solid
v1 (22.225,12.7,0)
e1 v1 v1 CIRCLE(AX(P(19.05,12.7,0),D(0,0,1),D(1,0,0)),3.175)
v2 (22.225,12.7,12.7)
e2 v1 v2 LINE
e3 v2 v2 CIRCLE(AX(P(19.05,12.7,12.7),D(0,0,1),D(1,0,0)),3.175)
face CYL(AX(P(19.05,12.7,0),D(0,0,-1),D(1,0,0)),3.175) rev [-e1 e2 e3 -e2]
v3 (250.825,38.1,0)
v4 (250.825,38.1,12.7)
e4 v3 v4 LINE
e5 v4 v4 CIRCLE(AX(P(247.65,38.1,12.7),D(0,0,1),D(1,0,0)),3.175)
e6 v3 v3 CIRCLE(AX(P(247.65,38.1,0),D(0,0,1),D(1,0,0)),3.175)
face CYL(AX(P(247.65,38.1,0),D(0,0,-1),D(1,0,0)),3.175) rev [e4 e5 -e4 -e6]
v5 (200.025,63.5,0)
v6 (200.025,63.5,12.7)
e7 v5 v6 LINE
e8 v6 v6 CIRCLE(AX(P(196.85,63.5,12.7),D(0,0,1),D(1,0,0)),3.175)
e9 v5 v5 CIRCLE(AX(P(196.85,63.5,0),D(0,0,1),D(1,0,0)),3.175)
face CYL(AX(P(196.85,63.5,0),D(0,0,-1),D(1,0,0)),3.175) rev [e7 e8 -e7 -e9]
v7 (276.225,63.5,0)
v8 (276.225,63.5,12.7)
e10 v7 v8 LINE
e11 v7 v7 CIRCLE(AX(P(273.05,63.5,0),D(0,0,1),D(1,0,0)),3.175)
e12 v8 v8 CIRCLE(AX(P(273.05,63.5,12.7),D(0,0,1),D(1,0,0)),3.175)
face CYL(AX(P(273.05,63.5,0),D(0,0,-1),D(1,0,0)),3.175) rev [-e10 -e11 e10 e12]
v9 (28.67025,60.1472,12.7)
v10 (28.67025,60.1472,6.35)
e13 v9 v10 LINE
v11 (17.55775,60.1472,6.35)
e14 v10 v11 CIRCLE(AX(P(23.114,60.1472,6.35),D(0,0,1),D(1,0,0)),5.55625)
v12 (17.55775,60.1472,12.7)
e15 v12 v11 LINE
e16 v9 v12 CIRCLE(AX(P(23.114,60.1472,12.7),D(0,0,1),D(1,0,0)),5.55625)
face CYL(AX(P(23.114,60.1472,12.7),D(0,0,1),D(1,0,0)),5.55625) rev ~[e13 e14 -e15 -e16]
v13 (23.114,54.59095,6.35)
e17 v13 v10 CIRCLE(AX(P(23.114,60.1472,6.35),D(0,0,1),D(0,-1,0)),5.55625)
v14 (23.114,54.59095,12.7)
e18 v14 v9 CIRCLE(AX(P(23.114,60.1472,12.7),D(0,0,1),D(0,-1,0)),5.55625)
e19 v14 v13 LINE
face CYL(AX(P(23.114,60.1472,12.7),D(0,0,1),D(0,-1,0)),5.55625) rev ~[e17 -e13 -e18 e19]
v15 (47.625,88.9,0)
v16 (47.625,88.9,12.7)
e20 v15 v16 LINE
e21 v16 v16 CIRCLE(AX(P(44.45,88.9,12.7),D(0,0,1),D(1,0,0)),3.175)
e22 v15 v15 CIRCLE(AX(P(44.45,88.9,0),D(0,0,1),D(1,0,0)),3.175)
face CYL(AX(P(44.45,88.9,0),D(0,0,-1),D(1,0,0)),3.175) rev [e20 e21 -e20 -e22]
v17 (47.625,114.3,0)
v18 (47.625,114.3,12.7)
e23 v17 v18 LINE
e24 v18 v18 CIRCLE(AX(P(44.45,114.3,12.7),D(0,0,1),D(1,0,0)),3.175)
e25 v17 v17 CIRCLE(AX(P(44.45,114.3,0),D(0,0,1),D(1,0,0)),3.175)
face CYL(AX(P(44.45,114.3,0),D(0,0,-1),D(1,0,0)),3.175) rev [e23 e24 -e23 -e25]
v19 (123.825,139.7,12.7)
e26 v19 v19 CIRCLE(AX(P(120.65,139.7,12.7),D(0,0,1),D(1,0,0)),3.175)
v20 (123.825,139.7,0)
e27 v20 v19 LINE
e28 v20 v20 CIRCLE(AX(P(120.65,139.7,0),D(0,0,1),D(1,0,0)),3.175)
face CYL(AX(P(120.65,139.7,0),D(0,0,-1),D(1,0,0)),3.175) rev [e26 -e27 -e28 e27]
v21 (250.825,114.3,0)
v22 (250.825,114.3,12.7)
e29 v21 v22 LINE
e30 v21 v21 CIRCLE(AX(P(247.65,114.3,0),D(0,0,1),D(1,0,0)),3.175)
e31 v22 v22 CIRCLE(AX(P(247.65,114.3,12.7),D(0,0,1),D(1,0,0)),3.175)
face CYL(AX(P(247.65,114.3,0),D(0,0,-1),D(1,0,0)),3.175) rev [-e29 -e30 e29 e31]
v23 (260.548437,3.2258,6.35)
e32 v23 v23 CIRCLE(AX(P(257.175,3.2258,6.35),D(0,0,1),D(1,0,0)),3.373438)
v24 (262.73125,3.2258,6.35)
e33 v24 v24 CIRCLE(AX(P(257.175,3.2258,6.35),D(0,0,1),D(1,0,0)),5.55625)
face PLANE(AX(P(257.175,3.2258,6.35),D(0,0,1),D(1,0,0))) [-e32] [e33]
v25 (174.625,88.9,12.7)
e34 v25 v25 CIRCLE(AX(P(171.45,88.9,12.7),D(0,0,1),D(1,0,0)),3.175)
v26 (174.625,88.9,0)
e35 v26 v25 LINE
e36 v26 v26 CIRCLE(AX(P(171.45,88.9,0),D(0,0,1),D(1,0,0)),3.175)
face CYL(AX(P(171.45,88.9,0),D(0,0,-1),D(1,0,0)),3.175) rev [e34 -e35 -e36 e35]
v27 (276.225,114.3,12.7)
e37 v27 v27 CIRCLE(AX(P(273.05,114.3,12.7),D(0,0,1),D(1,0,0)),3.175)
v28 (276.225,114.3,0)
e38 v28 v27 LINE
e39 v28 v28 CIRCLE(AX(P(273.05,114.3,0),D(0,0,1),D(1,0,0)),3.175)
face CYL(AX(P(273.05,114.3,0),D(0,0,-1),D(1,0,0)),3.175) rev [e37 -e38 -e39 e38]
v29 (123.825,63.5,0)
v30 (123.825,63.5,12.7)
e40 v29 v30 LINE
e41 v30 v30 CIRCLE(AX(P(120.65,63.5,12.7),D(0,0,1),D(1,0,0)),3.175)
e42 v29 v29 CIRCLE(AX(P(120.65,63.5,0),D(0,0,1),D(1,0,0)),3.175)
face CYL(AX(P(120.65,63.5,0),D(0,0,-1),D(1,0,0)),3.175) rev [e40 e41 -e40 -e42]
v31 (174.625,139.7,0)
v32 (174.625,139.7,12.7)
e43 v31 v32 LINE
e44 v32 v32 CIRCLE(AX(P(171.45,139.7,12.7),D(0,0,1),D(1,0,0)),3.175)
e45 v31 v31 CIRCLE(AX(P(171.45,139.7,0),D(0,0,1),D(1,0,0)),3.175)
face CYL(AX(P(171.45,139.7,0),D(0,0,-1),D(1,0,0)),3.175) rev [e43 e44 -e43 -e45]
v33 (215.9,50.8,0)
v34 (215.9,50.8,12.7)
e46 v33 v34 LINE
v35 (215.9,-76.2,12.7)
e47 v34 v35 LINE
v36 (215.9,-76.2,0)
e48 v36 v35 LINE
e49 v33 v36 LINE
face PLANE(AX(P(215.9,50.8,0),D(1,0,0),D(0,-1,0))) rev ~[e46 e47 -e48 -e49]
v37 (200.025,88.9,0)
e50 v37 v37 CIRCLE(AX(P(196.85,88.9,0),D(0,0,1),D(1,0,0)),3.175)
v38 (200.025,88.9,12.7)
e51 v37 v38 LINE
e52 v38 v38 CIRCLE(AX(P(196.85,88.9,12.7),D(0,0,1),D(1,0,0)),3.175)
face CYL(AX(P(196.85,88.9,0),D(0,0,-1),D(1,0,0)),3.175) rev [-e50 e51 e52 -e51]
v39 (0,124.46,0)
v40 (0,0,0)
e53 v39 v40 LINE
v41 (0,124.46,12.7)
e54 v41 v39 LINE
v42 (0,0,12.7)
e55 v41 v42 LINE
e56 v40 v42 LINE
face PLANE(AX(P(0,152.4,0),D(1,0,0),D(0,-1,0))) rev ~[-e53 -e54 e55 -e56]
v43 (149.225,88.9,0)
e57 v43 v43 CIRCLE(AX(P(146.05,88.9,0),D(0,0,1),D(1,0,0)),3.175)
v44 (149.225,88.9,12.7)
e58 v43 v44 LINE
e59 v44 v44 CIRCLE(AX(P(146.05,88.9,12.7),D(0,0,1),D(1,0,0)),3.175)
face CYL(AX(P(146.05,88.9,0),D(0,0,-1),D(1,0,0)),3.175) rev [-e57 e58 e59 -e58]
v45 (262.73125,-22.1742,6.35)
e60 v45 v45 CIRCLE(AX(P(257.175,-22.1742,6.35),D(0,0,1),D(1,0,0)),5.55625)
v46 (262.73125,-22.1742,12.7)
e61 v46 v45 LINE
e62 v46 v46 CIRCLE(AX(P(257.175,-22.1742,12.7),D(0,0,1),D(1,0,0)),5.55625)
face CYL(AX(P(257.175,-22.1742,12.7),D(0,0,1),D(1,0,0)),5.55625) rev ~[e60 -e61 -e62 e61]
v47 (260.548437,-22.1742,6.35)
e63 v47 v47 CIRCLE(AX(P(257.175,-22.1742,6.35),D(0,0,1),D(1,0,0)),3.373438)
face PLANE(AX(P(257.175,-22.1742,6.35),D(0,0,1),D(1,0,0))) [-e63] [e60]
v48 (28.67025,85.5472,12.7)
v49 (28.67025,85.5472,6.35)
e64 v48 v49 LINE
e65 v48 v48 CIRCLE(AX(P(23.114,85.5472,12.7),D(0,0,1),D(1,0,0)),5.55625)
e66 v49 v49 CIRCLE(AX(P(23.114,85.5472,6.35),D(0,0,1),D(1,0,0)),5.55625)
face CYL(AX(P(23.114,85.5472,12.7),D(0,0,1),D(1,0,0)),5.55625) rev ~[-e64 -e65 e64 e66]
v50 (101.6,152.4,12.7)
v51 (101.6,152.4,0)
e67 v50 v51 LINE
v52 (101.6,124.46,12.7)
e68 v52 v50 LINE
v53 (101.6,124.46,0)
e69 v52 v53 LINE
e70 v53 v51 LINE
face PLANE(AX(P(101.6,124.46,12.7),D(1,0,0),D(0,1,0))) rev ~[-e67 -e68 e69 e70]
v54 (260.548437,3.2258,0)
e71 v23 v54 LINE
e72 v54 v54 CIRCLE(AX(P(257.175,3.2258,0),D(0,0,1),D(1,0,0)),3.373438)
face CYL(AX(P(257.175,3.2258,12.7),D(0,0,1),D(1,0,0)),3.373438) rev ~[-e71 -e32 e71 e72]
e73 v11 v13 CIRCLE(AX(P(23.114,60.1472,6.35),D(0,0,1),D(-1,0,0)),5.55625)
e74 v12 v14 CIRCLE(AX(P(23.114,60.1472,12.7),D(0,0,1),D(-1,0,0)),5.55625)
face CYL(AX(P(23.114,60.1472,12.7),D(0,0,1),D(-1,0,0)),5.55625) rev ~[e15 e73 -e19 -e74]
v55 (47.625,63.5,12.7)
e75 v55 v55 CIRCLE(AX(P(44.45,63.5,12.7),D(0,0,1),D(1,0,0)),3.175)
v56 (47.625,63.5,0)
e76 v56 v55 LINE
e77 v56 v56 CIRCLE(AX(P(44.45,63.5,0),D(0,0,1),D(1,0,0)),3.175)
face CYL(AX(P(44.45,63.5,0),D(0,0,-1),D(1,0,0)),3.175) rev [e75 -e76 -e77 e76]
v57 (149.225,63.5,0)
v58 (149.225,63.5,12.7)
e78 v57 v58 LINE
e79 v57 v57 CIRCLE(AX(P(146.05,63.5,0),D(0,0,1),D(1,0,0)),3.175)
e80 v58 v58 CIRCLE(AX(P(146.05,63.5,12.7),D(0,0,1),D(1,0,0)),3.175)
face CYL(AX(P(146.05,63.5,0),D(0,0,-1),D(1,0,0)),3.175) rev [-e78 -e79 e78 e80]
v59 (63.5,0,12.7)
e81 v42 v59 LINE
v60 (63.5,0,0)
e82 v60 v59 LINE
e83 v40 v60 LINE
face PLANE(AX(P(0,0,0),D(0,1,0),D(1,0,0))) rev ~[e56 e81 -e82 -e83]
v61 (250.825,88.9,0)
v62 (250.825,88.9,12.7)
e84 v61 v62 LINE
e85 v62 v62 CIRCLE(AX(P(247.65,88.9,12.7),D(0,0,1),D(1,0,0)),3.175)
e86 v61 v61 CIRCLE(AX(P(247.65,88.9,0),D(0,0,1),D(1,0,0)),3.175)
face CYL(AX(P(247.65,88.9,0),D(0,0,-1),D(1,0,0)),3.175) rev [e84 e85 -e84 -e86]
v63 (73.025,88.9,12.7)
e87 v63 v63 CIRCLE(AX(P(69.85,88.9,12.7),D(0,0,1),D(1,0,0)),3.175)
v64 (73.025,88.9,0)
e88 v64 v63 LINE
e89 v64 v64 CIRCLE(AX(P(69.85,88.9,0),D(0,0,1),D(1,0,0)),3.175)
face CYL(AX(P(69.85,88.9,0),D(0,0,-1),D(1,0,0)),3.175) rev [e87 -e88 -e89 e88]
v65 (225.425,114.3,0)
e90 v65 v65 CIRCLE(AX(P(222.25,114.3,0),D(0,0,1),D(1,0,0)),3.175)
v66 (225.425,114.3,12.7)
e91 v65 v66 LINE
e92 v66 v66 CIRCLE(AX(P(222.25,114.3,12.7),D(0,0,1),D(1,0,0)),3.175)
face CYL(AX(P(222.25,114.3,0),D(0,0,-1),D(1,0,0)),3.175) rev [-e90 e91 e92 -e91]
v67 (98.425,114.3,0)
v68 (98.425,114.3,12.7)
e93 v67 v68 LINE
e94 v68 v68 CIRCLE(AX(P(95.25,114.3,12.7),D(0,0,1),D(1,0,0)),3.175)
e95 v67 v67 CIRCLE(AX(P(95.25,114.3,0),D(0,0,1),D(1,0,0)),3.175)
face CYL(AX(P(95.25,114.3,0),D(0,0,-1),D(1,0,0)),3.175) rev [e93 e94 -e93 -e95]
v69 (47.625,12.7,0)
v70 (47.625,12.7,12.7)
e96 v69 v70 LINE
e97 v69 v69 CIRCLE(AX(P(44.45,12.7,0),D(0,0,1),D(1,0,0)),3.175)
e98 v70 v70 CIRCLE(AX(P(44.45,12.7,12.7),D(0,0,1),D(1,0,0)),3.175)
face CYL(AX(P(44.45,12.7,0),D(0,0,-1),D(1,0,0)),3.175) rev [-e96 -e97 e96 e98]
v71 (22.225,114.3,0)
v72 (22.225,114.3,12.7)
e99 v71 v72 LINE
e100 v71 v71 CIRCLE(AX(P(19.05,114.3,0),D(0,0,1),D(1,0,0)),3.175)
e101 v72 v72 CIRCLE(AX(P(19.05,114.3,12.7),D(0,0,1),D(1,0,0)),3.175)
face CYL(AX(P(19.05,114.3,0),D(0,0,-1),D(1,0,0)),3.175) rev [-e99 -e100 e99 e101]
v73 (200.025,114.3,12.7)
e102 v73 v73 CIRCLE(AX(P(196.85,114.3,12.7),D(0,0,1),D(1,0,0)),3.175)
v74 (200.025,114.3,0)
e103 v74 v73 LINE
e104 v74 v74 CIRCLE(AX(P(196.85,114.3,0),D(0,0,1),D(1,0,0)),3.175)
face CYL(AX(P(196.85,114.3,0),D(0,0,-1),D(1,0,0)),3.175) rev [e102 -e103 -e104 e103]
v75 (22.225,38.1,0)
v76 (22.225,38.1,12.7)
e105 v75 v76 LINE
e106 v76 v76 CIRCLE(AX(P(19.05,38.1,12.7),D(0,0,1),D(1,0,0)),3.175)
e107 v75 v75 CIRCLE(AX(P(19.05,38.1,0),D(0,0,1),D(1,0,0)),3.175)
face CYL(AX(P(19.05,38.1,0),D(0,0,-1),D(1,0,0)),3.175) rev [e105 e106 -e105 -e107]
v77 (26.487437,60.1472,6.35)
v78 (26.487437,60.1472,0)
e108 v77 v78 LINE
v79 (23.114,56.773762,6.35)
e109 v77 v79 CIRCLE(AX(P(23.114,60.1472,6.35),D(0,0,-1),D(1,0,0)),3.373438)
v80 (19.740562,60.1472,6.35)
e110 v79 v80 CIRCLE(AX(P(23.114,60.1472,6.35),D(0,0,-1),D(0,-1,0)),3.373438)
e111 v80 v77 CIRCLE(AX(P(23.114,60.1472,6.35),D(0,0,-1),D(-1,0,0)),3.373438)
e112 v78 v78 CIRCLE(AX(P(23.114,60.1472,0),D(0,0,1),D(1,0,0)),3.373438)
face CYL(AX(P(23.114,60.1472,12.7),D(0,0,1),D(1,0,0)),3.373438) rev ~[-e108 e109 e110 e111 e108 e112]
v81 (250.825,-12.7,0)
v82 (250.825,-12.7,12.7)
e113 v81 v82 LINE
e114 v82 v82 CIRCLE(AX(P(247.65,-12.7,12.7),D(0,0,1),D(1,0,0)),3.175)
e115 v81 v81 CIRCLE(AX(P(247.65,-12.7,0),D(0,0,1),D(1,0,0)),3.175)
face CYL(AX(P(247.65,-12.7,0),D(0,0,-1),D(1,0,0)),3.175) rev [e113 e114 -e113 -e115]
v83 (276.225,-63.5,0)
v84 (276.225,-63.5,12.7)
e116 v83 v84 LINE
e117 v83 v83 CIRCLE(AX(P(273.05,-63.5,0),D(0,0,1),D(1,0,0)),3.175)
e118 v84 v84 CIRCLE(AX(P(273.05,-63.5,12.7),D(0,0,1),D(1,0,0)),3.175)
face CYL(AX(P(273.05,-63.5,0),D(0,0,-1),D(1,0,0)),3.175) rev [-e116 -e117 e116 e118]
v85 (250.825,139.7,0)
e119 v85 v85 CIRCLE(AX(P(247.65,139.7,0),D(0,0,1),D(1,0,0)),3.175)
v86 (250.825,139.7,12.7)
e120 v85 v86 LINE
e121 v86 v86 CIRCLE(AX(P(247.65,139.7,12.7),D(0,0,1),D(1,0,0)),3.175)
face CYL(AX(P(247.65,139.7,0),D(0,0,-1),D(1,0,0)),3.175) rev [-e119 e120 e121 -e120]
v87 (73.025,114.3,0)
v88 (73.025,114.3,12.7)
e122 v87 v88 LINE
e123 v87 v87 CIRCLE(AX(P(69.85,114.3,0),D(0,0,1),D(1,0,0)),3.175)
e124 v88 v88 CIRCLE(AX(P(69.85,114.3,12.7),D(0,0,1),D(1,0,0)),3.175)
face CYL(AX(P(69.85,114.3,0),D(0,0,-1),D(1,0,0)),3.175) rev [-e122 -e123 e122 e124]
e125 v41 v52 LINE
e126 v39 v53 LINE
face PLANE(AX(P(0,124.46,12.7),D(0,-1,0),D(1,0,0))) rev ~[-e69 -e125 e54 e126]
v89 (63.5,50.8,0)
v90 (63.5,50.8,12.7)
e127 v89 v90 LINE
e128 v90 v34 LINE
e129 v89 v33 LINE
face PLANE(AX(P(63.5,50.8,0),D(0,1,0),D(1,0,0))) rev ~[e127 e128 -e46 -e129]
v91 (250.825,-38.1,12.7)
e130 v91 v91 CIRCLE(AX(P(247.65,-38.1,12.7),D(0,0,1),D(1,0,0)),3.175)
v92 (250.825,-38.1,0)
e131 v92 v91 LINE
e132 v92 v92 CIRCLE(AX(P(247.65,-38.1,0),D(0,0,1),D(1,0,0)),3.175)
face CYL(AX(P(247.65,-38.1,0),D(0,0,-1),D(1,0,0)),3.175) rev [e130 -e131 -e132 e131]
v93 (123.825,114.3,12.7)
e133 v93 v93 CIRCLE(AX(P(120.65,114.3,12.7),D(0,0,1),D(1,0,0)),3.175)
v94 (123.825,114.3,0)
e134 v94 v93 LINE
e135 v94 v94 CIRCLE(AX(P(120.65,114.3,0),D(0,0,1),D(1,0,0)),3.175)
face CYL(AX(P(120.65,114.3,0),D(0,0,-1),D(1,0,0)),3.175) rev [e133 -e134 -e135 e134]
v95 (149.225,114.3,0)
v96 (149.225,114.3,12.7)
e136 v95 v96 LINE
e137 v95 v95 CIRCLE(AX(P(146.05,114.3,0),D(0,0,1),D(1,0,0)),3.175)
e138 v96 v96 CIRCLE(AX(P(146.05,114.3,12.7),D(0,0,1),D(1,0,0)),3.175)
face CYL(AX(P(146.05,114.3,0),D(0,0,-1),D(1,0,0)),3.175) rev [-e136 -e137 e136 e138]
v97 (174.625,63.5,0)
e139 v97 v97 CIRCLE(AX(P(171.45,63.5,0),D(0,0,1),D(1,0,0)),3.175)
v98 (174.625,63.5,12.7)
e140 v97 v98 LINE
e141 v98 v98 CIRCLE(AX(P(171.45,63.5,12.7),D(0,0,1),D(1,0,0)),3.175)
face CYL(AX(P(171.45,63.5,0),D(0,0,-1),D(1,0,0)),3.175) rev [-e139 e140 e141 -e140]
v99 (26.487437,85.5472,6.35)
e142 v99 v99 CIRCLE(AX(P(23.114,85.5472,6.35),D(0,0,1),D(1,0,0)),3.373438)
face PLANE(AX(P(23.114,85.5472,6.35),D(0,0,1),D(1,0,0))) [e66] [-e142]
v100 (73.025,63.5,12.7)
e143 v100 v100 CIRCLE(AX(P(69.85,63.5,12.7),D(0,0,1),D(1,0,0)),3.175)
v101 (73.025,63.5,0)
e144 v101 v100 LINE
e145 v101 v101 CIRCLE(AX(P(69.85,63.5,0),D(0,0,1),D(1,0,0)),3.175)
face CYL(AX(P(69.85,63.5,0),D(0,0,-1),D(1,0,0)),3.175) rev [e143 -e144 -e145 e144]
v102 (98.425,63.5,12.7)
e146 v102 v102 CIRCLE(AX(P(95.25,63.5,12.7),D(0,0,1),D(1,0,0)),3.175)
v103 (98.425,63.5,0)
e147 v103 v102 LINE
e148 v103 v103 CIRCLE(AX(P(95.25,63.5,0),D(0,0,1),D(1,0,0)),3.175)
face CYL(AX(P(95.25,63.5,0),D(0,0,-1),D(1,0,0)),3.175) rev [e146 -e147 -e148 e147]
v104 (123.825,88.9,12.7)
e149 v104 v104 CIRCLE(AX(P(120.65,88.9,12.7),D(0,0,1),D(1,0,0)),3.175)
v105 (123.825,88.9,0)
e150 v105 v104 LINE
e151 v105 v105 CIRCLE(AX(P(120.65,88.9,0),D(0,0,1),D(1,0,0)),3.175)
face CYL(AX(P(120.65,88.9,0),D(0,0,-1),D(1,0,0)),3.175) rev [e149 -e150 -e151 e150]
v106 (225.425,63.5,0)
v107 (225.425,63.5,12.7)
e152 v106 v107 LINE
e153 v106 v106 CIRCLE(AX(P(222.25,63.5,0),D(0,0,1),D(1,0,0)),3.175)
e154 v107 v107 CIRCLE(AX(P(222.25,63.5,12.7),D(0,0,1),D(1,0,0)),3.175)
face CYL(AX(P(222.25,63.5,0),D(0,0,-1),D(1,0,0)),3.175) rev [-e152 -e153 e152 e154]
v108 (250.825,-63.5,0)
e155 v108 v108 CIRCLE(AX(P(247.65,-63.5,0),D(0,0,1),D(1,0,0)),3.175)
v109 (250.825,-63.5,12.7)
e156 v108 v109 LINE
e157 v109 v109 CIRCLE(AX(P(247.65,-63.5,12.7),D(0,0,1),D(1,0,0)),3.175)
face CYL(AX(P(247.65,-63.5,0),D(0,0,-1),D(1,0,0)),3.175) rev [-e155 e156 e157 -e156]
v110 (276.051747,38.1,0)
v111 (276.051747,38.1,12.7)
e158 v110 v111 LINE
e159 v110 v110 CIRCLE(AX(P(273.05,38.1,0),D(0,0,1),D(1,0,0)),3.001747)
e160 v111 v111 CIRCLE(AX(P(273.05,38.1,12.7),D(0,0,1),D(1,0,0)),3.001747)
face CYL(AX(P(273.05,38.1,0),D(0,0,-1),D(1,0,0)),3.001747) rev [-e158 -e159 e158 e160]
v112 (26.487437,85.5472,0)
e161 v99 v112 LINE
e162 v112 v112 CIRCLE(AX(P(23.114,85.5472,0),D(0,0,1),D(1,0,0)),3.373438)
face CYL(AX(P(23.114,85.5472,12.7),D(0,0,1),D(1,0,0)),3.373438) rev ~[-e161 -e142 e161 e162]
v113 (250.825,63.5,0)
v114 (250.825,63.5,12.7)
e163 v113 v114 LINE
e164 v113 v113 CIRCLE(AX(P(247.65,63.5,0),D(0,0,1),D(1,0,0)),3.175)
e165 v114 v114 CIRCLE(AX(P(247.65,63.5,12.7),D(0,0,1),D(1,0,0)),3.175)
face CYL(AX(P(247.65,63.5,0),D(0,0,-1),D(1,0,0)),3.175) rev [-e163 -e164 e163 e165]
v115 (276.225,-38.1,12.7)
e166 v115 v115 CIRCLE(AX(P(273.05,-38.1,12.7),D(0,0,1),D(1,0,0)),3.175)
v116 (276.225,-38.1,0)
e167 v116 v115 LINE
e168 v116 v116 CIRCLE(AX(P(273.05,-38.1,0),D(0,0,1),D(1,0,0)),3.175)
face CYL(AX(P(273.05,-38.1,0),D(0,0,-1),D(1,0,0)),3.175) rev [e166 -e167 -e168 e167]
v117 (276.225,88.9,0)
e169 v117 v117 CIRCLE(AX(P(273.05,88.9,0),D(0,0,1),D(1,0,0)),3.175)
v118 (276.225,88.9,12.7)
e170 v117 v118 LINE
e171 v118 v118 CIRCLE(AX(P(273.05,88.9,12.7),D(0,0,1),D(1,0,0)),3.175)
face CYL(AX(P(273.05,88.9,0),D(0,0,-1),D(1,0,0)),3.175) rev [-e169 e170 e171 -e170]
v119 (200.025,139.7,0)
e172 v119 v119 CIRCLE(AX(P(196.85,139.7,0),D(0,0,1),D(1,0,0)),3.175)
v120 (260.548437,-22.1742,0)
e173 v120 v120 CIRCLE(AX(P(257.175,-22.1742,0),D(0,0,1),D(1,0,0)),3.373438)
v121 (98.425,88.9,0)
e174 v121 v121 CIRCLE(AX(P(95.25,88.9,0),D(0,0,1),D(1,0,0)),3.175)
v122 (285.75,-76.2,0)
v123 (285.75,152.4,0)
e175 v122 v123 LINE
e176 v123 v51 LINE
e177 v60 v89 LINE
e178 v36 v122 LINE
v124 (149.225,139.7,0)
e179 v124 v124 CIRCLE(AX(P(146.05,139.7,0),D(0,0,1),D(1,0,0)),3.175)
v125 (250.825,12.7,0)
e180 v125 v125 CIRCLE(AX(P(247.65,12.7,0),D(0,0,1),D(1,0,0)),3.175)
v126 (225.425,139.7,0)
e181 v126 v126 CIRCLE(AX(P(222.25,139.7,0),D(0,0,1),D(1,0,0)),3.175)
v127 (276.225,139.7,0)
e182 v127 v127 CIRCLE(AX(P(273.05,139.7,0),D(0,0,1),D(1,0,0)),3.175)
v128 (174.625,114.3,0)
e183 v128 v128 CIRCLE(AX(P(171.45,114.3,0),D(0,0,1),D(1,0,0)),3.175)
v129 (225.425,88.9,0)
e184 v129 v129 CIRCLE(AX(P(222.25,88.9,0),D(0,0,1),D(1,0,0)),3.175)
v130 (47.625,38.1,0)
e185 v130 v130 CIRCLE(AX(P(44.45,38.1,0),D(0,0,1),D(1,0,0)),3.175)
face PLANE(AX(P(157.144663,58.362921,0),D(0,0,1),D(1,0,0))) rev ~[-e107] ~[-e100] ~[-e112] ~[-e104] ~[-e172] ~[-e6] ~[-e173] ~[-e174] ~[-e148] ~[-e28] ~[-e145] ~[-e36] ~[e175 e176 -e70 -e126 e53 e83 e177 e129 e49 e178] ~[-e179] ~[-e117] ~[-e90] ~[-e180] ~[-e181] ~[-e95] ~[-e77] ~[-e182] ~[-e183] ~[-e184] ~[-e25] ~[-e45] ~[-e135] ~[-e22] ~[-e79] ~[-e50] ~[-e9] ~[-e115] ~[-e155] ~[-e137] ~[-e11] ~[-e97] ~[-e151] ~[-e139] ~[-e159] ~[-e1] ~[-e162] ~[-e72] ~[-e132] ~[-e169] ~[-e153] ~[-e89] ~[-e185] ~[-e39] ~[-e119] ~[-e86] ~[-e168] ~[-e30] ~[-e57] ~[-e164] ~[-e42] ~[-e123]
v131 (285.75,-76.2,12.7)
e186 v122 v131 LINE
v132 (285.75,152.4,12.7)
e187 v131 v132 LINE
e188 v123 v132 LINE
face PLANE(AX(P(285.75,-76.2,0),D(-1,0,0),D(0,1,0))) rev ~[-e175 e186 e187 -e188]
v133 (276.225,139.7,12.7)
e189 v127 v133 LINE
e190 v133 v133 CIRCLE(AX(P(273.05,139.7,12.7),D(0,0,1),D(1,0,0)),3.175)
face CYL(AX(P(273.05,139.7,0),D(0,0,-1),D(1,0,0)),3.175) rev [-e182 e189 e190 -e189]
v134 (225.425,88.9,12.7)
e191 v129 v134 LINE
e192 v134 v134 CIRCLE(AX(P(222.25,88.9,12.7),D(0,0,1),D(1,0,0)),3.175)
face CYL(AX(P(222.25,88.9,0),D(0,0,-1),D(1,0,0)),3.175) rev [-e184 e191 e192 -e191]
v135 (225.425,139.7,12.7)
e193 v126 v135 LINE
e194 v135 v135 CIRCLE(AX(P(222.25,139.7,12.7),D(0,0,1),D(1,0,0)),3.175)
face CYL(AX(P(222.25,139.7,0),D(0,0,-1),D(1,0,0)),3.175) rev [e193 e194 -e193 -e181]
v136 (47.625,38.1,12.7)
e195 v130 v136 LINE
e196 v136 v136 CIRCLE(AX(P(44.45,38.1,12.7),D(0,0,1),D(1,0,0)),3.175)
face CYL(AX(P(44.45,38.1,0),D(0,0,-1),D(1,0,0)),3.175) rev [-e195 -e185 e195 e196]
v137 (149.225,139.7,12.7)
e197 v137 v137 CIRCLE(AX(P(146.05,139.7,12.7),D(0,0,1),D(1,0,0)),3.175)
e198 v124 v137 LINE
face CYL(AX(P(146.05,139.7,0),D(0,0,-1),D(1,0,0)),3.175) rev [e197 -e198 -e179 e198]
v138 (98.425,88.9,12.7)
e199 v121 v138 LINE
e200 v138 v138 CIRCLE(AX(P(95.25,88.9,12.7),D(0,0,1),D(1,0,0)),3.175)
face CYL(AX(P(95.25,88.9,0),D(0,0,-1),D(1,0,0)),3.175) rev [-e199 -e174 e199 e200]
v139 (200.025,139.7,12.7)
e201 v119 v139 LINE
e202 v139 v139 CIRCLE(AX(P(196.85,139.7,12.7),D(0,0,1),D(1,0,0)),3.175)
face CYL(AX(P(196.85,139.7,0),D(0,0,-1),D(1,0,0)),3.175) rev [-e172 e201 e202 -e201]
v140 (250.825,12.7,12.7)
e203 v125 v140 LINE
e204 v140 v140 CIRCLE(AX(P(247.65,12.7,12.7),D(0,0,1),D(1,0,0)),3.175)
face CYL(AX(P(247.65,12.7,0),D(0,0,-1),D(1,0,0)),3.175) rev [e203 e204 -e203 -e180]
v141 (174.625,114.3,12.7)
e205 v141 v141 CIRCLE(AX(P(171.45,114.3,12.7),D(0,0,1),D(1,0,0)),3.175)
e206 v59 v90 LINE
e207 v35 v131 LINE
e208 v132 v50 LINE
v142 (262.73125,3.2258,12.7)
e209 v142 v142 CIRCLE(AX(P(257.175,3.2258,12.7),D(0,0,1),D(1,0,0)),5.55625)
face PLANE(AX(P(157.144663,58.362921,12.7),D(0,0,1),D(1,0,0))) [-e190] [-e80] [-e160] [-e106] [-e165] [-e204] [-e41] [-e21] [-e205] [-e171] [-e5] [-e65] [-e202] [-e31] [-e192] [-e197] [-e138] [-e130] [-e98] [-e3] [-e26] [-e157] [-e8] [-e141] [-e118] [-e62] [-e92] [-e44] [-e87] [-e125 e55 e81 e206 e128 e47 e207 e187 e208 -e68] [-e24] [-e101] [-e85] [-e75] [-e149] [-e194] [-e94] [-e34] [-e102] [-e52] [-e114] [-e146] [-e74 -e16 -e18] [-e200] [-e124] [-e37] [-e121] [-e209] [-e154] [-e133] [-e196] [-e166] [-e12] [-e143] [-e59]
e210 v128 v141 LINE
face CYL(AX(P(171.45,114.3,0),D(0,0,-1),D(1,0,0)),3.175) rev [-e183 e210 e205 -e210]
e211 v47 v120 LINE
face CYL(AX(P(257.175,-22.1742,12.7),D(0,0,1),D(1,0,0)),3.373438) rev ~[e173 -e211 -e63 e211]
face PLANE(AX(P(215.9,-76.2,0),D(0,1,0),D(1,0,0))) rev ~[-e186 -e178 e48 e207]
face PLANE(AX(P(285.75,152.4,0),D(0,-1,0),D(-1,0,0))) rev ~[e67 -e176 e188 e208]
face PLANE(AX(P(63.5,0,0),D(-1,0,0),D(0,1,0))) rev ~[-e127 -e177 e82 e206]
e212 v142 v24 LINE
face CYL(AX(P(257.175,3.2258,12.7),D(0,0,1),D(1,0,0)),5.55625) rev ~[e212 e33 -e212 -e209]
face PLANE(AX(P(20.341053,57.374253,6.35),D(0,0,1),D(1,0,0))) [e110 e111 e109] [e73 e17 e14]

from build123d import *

# Parameters (mm, degrees)
SKETCH1_R           = 3.175
SKETCH1_R_2         = 3.001746658
BOSS_EXTRUDE1_DEPTH = 12.7
SKETCH6_R           = 3.3734375
CUT_EXTRUDE6_DEPTH  = 12.7
SKETCH6_3_R         = 5.55625
SKETCH6_3_R_2       = 3.3734375
CUT_EXTRUDE7_DEPTH  = 6.35
CUT_EXTRUDE8_DEPTH  = 6.35
SKETCH7_W           = 101.6
SKETCH7_H           = 27.94
CUT_EXTRUDE9_DEPTH  = 12.7
SKETCH8_R           = 3.3734375
CUT_EXTRUDE10_DEPTH = 12.7
SKETCH8_3_R         = 5.55625
SKETCH8_3_R_2       = 3.3734375
CUT_EXTRUDE11_DEPTH = 6.35


with BuildPart() as part:
    # Sketch1 → Boss-Extrude1 (new body)
    with BuildSketch(Plane.XY):
        Polygon((0, 152.4), (0, 0), (63.5, 0), (63.5, 50.8), (215.9, 50.8), (215.9, -76.2), (285.75, -76.2), (285.75, 152.4), align=None)
        with Locations((19.05, 12.7)):
            Circle(SKETCH1_R, mode=Mode.SUBTRACT)
        with Locations((19.05, 38.1)):
            Circle(SKETCH1_R, mode=Mode.SUBTRACT)
        with Locations((44.45, 12.7)):
            Circle(SKETCH1_R, mode=Mode.SUBTRACT)
        with Locations((44.45, 38.1)):
            Circle(SKETCH1_R, mode=Mode.SUBTRACT)
        with Locations((247.65, -63.5)):
            Circle(SKETCH1_R, mode=Mode.SUBTRACT)
        with Locations((273.05, -63.5)):
            Circle(SKETCH1_R, mode=Mode.SUBTRACT)
        with Locations((247.65, -38.1)):
            Circle(SKETCH1_R, mode=Mode.SUBTRACT)
        with Locations((273.05, -38.1)):
            Circle(SKETCH1_R, mode=Mode.SUBTRACT)
        with Locations((247.65, -12.7)):
            Circle(SKETCH1_R, mode=Mode.SUBTRACT)
        with Locations((247.65, 12.7)):
            Circle(SKETCH1_R, mode=Mode.SUBTRACT)
        with Locations((247.65, 38.1)):
            Circle(SKETCH1_R, mode=Mode.SUBTRACT)
        with Locations((44.45, 63.5)):
            Circle(SKETCH1_R, mode=Mode.SUBTRACT)
        with Locations((69.85, 63.5)):
            Circle(SKETCH1_R, mode=Mode.SUBTRACT)
        with Locations((44.45, 88.9)):
            Circle(SKETCH1_R, mode=Mode.SUBTRACT)
        with Locations((69.85, 88.9)):
            Circle(SKETCH1_R, mode=Mode.SUBTRACT)
        with Locations((95.25, 63.5)):
            Circle(SKETCH1_R, mode=Mode.SUBTRACT)
        with Locations((120.65, 63.5)):
            Circle(SKETCH1_R, mode=Mode.SUBTRACT)
        with Locations((95.25, 88.9)):
            Circle(SKETCH1_R, mode=Mode.SUBTRACT)
        with Locations((120.65, 88.9)):
            Circle(SKETCH1_R, mode=Mode.SUBTRACT)
        with Locations((19.05, 114.3)):
            Circle(SKETCH1_R, mode=Mode.SUBTRACT)
        with Locations((44.45, 114.3)):
            Circle(SKETCH1_R, mode=Mode.SUBTRACT)
        with Locations((69.85, 114.3)):
            Circle(SKETCH1_R, mode=Mode.SUBTRACT)
        with Locations((19.05, 139.7)):
            Circle(SKETCH1_R, mode=Mode.SUBTRACT)
        with Locations((44.45, 139.7)):
            Circle(SKETCH1_R, mode=Mode.SUBTRACT)
        with Locations((69.85, 139.7)):
            Circle(SKETCH1_R, mode=Mode.SUBTRACT)
        with Locations((95.25, 114.3)):
            Circle(SKETCH1_R, mode=Mode.SUBTRACT)
        with Locations((120.65, 114.3)):
            Circle(SKETCH1_R, mode=Mode.SUBTRACT)
        with Locations((95.25, 139.7)):
            Circle(SKETCH1_R, mode=Mode.SUBTRACT)
        with Locations((120.65, 139.7)):
            Circle(SKETCH1_R, mode=Mode.SUBTRACT)
        with Locations((146.05, 63.5)):
            Circle(SKETCH1_R, mode=Mode.SUBTRACT)
        with Locations((171.45, 63.5)):
            Circle(SKETCH1_R, mode=Mode.SUBTRACT)
        with Locations((196.85, 63.5)):
            Circle(SKETCH1_R, mode=Mode.SUBTRACT)
        with Locations((146.05, 88.9)):
            Circle(SKETCH1_R, mode=Mode.SUBTRACT)
        with Locations((171.45, 88.9)):
            Circle(SKETCH1_R, mode=Mode.SUBTRACT)
        with Locations((196.85, 88.9)):
            Circle(SKETCH1_R, mode=Mode.SUBTRACT)
        with Locations((222.25, 63.5)):
            Circle(SKETCH1_R, mode=Mode.SUBTRACT)
        with Locations((247.65, 63.5)):
            Circle(SKETCH1_R, mode=Mode.SUBTRACT)
        with Locations((273.05, 63.5)):
            Circle(SKETCH1_R, mode=Mode.SUBTRACT)
        with Locations((222.25, 88.9)):
            Circle(SKETCH1_R, mode=Mode.SUBTRACT)
        with Locations((247.65, 88.9)):
            Circle(SKETCH1_R, mode=Mode.SUBTRACT)
        with Locations((273.05, 88.9)):
            Circle(SKETCH1_R, mode=Mode.SUBTRACT)
        with Locations((146.05, 114.3)):
            Circle(SKETCH1_R, mode=Mode.SUBTRACT)
        with Locations((171.45, 114.3)):
            Circle(SKETCH1_R, mode=Mode.SUBTRACT)
        with Locations((196.85, 114.3)):
            Circle(SKETCH1_R, mode=Mode.SUBTRACT)
        with Locations((146.05, 139.7)):
            Circle(SKETCH1_R, mode=Mode.SUBTRACT)
        with Locations((171.45, 139.7)):
            Circle(SKETCH1_R, mode=Mode.SUBTRACT)
        with Locations((196.85, 139.7)):
            Circle(SKETCH1_R, mode=Mode.SUBTRACT)
        with Locations((222.25, 114.3)):
            Circle(SKETCH1_R, mode=Mode.SUBTRACT)
        with Locations((247.65, 114.3)):
            Circle(SKETCH1_R, mode=Mode.SUBTRACT)
        with Locations((273.05, 114.3)):
            Circle(SKETCH1_R, mode=Mode.SUBTRACT)
        with Locations((222.25, 139.7)):
            Circle(SKETCH1_R, mode=Mode.SUBTRACT)
        with Locations((247.65, 139.7)):
            Circle(SKETCH1_R, mode=Mode.SUBTRACT)
        with Locations((273.05, 139.7)):
            Circle(SKETCH1_R, mode=Mode.SUBTRACT)
        with Locations((273.05, 38.1)):
            Circle(SKETCH1_R_2, mode=Mode.SUBTRACT)
    extrude(amount=BOSS_EXTRUDE1_DEPTH)

    # Sketch6 → Cut-Extrude6 (cut)
    with BuildSketch(Plane.XY.offset(12.7)):
        with Locations((23.114, 60.1472)):
            Circle(SKETCH6_R)
        with Locations((23.114, 85.5472)):
            Circle(SKETCH6_R)
    extrude(amount=-CUT_EXTRUDE6_DEPTH, mode=Mode.SUBTRACT)

    # Sketch6<3> → Cut-Extrude7 (cut)
    # profile 1 of 2: a face of its own
    with BuildSketch(Plane.XY.offset(12.7)):
        with Locations((23.114, 85.5472)):
            Circle(SKETCH6_3_R)
        with Locations((23.114, 85.5472)):
            Circle(SKETCH6_3_R_2, mode=Mode.SUBTRACT)
    # profile 2 of 2: a face of its own
    with BuildSketch(Plane.XY.offset(12.7)):
        with BuildLine():
            Line((23.114, 56.7737625), (23.114, 54.59095))
            ThreePointArc((23.114, 54.59095), (27.042862053, 56.218337947), (28.67025, 60.1472))
            ThreePointArc((28.67025, 60.1472), (23.114, 65.70345), (17.55775, 60.1472))
            Line((17.55775, 60.1472), (19.7405625, 60.1472))
            ThreePointArc((19.7405625, 60.1472), (23.114, 63.5206375), (26.4874375, 60.1472))
            ThreePointArc((26.4874375, 60.1472), (25.499380532, 57.761819468), (23.114, 56.7737625))
        make_face()
    extrude(amount=-CUT_EXTRUDE7_DEPTH, mode=Mode.SUBTRACT)

    # Sketch6<4> → Cut-Extrude8 (cut)
    with BuildSketch(Plane.XY.offset(12.7)):
        with BuildLine():
            ThreePointArc((17.55775, 60.1472), (19.185137947, 56.218337947), (23.114, 54.59095))
            Line((23.114, 54.59095), (23.114, 56.7737625))
            ThreePointArc((23.114, 56.7737625), (20.728619468, 57.761819468), (19.7405625, 60.1472))
            Line((19.7405625, 60.1472), (17.55775, 60.1472))
        make_face()
        with BuildLine():
            Line((23.114, 56.7737625), (23.114, 54.59095))
            ThreePointArc((23.114, 54.59095), (27.042862053, 56.218337947), (28.67025, 60.1472))
            ThreePointArc((28.67025, 60.1472), (23.114, 65.70345), (17.55775, 60.1472))
            Line((17.55775, 60.1472), (19.7405625, 60.1472))
            ThreePointArc((19.7405625, 60.1472), (23.114, 63.5206375), (26.4874375, 60.1472))
            ThreePointArc((26.4874375, 60.1472), (25.499380532, 57.761819468), (23.114, 56.7737625))
        make_face()
    extrude(amount=-CUT_EXTRUDE8_DEPTH, mode=Mode.SUBTRACT)

    # Sketch7 → Cut-Extrude9 (cut)
    with BuildSketch(Plane.XY.offset(12.7)):
        with Locations((50.8, 138.43)):
            Rectangle(SKETCH7_W, SKETCH7_H)
    extrude(amount=-CUT_EXTRUDE9_DEPTH, mode=Mode.SUBTRACT)

    # Sketch8 → Cut-Extrude10 (cut)
    with BuildSketch(Plane.XY.offset(12.7)):
        with Locations((257.175, -22.1742)):
            Circle(SKETCH8_R)
        with Locations((257.175, 3.2258)):
            Circle(SKETCH8_R)
    extrude(amount=-CUT_EXTRUDE10_DEPTH, mode=Mode.SUBTRACT)

    # Sketch8<3> → Cut-Extrude11 (cut)
    # profile 1 of 2: a face of its own
    with BuildSketch(Plane.XY.offset(12.7)):
        with Locations((257.175, 3.2258)):
            Circle(SKETCH8_3_R)
        with Locations((257.175, 3.2258)):
            Circle(SKETCH8_3_R_2, mode=Mode.SUBTRACT)
    # profile 2 of 2: a face of its own
    with BuildSketch(Plane.XY.offset(12.7)):
        with Locations((257.175, -22.1742)):
            Circle(SKETCH8_3_R)
        with Locations((257.175, -22.1742)):
            Circle(SKETCH8_3_R_2, mode=Mode.SUBTRACT)
    extrude(amount=-CUT_EXTRUDE11_DEPTH, mode=Mode.SUBTRACT)


solid = part.part
